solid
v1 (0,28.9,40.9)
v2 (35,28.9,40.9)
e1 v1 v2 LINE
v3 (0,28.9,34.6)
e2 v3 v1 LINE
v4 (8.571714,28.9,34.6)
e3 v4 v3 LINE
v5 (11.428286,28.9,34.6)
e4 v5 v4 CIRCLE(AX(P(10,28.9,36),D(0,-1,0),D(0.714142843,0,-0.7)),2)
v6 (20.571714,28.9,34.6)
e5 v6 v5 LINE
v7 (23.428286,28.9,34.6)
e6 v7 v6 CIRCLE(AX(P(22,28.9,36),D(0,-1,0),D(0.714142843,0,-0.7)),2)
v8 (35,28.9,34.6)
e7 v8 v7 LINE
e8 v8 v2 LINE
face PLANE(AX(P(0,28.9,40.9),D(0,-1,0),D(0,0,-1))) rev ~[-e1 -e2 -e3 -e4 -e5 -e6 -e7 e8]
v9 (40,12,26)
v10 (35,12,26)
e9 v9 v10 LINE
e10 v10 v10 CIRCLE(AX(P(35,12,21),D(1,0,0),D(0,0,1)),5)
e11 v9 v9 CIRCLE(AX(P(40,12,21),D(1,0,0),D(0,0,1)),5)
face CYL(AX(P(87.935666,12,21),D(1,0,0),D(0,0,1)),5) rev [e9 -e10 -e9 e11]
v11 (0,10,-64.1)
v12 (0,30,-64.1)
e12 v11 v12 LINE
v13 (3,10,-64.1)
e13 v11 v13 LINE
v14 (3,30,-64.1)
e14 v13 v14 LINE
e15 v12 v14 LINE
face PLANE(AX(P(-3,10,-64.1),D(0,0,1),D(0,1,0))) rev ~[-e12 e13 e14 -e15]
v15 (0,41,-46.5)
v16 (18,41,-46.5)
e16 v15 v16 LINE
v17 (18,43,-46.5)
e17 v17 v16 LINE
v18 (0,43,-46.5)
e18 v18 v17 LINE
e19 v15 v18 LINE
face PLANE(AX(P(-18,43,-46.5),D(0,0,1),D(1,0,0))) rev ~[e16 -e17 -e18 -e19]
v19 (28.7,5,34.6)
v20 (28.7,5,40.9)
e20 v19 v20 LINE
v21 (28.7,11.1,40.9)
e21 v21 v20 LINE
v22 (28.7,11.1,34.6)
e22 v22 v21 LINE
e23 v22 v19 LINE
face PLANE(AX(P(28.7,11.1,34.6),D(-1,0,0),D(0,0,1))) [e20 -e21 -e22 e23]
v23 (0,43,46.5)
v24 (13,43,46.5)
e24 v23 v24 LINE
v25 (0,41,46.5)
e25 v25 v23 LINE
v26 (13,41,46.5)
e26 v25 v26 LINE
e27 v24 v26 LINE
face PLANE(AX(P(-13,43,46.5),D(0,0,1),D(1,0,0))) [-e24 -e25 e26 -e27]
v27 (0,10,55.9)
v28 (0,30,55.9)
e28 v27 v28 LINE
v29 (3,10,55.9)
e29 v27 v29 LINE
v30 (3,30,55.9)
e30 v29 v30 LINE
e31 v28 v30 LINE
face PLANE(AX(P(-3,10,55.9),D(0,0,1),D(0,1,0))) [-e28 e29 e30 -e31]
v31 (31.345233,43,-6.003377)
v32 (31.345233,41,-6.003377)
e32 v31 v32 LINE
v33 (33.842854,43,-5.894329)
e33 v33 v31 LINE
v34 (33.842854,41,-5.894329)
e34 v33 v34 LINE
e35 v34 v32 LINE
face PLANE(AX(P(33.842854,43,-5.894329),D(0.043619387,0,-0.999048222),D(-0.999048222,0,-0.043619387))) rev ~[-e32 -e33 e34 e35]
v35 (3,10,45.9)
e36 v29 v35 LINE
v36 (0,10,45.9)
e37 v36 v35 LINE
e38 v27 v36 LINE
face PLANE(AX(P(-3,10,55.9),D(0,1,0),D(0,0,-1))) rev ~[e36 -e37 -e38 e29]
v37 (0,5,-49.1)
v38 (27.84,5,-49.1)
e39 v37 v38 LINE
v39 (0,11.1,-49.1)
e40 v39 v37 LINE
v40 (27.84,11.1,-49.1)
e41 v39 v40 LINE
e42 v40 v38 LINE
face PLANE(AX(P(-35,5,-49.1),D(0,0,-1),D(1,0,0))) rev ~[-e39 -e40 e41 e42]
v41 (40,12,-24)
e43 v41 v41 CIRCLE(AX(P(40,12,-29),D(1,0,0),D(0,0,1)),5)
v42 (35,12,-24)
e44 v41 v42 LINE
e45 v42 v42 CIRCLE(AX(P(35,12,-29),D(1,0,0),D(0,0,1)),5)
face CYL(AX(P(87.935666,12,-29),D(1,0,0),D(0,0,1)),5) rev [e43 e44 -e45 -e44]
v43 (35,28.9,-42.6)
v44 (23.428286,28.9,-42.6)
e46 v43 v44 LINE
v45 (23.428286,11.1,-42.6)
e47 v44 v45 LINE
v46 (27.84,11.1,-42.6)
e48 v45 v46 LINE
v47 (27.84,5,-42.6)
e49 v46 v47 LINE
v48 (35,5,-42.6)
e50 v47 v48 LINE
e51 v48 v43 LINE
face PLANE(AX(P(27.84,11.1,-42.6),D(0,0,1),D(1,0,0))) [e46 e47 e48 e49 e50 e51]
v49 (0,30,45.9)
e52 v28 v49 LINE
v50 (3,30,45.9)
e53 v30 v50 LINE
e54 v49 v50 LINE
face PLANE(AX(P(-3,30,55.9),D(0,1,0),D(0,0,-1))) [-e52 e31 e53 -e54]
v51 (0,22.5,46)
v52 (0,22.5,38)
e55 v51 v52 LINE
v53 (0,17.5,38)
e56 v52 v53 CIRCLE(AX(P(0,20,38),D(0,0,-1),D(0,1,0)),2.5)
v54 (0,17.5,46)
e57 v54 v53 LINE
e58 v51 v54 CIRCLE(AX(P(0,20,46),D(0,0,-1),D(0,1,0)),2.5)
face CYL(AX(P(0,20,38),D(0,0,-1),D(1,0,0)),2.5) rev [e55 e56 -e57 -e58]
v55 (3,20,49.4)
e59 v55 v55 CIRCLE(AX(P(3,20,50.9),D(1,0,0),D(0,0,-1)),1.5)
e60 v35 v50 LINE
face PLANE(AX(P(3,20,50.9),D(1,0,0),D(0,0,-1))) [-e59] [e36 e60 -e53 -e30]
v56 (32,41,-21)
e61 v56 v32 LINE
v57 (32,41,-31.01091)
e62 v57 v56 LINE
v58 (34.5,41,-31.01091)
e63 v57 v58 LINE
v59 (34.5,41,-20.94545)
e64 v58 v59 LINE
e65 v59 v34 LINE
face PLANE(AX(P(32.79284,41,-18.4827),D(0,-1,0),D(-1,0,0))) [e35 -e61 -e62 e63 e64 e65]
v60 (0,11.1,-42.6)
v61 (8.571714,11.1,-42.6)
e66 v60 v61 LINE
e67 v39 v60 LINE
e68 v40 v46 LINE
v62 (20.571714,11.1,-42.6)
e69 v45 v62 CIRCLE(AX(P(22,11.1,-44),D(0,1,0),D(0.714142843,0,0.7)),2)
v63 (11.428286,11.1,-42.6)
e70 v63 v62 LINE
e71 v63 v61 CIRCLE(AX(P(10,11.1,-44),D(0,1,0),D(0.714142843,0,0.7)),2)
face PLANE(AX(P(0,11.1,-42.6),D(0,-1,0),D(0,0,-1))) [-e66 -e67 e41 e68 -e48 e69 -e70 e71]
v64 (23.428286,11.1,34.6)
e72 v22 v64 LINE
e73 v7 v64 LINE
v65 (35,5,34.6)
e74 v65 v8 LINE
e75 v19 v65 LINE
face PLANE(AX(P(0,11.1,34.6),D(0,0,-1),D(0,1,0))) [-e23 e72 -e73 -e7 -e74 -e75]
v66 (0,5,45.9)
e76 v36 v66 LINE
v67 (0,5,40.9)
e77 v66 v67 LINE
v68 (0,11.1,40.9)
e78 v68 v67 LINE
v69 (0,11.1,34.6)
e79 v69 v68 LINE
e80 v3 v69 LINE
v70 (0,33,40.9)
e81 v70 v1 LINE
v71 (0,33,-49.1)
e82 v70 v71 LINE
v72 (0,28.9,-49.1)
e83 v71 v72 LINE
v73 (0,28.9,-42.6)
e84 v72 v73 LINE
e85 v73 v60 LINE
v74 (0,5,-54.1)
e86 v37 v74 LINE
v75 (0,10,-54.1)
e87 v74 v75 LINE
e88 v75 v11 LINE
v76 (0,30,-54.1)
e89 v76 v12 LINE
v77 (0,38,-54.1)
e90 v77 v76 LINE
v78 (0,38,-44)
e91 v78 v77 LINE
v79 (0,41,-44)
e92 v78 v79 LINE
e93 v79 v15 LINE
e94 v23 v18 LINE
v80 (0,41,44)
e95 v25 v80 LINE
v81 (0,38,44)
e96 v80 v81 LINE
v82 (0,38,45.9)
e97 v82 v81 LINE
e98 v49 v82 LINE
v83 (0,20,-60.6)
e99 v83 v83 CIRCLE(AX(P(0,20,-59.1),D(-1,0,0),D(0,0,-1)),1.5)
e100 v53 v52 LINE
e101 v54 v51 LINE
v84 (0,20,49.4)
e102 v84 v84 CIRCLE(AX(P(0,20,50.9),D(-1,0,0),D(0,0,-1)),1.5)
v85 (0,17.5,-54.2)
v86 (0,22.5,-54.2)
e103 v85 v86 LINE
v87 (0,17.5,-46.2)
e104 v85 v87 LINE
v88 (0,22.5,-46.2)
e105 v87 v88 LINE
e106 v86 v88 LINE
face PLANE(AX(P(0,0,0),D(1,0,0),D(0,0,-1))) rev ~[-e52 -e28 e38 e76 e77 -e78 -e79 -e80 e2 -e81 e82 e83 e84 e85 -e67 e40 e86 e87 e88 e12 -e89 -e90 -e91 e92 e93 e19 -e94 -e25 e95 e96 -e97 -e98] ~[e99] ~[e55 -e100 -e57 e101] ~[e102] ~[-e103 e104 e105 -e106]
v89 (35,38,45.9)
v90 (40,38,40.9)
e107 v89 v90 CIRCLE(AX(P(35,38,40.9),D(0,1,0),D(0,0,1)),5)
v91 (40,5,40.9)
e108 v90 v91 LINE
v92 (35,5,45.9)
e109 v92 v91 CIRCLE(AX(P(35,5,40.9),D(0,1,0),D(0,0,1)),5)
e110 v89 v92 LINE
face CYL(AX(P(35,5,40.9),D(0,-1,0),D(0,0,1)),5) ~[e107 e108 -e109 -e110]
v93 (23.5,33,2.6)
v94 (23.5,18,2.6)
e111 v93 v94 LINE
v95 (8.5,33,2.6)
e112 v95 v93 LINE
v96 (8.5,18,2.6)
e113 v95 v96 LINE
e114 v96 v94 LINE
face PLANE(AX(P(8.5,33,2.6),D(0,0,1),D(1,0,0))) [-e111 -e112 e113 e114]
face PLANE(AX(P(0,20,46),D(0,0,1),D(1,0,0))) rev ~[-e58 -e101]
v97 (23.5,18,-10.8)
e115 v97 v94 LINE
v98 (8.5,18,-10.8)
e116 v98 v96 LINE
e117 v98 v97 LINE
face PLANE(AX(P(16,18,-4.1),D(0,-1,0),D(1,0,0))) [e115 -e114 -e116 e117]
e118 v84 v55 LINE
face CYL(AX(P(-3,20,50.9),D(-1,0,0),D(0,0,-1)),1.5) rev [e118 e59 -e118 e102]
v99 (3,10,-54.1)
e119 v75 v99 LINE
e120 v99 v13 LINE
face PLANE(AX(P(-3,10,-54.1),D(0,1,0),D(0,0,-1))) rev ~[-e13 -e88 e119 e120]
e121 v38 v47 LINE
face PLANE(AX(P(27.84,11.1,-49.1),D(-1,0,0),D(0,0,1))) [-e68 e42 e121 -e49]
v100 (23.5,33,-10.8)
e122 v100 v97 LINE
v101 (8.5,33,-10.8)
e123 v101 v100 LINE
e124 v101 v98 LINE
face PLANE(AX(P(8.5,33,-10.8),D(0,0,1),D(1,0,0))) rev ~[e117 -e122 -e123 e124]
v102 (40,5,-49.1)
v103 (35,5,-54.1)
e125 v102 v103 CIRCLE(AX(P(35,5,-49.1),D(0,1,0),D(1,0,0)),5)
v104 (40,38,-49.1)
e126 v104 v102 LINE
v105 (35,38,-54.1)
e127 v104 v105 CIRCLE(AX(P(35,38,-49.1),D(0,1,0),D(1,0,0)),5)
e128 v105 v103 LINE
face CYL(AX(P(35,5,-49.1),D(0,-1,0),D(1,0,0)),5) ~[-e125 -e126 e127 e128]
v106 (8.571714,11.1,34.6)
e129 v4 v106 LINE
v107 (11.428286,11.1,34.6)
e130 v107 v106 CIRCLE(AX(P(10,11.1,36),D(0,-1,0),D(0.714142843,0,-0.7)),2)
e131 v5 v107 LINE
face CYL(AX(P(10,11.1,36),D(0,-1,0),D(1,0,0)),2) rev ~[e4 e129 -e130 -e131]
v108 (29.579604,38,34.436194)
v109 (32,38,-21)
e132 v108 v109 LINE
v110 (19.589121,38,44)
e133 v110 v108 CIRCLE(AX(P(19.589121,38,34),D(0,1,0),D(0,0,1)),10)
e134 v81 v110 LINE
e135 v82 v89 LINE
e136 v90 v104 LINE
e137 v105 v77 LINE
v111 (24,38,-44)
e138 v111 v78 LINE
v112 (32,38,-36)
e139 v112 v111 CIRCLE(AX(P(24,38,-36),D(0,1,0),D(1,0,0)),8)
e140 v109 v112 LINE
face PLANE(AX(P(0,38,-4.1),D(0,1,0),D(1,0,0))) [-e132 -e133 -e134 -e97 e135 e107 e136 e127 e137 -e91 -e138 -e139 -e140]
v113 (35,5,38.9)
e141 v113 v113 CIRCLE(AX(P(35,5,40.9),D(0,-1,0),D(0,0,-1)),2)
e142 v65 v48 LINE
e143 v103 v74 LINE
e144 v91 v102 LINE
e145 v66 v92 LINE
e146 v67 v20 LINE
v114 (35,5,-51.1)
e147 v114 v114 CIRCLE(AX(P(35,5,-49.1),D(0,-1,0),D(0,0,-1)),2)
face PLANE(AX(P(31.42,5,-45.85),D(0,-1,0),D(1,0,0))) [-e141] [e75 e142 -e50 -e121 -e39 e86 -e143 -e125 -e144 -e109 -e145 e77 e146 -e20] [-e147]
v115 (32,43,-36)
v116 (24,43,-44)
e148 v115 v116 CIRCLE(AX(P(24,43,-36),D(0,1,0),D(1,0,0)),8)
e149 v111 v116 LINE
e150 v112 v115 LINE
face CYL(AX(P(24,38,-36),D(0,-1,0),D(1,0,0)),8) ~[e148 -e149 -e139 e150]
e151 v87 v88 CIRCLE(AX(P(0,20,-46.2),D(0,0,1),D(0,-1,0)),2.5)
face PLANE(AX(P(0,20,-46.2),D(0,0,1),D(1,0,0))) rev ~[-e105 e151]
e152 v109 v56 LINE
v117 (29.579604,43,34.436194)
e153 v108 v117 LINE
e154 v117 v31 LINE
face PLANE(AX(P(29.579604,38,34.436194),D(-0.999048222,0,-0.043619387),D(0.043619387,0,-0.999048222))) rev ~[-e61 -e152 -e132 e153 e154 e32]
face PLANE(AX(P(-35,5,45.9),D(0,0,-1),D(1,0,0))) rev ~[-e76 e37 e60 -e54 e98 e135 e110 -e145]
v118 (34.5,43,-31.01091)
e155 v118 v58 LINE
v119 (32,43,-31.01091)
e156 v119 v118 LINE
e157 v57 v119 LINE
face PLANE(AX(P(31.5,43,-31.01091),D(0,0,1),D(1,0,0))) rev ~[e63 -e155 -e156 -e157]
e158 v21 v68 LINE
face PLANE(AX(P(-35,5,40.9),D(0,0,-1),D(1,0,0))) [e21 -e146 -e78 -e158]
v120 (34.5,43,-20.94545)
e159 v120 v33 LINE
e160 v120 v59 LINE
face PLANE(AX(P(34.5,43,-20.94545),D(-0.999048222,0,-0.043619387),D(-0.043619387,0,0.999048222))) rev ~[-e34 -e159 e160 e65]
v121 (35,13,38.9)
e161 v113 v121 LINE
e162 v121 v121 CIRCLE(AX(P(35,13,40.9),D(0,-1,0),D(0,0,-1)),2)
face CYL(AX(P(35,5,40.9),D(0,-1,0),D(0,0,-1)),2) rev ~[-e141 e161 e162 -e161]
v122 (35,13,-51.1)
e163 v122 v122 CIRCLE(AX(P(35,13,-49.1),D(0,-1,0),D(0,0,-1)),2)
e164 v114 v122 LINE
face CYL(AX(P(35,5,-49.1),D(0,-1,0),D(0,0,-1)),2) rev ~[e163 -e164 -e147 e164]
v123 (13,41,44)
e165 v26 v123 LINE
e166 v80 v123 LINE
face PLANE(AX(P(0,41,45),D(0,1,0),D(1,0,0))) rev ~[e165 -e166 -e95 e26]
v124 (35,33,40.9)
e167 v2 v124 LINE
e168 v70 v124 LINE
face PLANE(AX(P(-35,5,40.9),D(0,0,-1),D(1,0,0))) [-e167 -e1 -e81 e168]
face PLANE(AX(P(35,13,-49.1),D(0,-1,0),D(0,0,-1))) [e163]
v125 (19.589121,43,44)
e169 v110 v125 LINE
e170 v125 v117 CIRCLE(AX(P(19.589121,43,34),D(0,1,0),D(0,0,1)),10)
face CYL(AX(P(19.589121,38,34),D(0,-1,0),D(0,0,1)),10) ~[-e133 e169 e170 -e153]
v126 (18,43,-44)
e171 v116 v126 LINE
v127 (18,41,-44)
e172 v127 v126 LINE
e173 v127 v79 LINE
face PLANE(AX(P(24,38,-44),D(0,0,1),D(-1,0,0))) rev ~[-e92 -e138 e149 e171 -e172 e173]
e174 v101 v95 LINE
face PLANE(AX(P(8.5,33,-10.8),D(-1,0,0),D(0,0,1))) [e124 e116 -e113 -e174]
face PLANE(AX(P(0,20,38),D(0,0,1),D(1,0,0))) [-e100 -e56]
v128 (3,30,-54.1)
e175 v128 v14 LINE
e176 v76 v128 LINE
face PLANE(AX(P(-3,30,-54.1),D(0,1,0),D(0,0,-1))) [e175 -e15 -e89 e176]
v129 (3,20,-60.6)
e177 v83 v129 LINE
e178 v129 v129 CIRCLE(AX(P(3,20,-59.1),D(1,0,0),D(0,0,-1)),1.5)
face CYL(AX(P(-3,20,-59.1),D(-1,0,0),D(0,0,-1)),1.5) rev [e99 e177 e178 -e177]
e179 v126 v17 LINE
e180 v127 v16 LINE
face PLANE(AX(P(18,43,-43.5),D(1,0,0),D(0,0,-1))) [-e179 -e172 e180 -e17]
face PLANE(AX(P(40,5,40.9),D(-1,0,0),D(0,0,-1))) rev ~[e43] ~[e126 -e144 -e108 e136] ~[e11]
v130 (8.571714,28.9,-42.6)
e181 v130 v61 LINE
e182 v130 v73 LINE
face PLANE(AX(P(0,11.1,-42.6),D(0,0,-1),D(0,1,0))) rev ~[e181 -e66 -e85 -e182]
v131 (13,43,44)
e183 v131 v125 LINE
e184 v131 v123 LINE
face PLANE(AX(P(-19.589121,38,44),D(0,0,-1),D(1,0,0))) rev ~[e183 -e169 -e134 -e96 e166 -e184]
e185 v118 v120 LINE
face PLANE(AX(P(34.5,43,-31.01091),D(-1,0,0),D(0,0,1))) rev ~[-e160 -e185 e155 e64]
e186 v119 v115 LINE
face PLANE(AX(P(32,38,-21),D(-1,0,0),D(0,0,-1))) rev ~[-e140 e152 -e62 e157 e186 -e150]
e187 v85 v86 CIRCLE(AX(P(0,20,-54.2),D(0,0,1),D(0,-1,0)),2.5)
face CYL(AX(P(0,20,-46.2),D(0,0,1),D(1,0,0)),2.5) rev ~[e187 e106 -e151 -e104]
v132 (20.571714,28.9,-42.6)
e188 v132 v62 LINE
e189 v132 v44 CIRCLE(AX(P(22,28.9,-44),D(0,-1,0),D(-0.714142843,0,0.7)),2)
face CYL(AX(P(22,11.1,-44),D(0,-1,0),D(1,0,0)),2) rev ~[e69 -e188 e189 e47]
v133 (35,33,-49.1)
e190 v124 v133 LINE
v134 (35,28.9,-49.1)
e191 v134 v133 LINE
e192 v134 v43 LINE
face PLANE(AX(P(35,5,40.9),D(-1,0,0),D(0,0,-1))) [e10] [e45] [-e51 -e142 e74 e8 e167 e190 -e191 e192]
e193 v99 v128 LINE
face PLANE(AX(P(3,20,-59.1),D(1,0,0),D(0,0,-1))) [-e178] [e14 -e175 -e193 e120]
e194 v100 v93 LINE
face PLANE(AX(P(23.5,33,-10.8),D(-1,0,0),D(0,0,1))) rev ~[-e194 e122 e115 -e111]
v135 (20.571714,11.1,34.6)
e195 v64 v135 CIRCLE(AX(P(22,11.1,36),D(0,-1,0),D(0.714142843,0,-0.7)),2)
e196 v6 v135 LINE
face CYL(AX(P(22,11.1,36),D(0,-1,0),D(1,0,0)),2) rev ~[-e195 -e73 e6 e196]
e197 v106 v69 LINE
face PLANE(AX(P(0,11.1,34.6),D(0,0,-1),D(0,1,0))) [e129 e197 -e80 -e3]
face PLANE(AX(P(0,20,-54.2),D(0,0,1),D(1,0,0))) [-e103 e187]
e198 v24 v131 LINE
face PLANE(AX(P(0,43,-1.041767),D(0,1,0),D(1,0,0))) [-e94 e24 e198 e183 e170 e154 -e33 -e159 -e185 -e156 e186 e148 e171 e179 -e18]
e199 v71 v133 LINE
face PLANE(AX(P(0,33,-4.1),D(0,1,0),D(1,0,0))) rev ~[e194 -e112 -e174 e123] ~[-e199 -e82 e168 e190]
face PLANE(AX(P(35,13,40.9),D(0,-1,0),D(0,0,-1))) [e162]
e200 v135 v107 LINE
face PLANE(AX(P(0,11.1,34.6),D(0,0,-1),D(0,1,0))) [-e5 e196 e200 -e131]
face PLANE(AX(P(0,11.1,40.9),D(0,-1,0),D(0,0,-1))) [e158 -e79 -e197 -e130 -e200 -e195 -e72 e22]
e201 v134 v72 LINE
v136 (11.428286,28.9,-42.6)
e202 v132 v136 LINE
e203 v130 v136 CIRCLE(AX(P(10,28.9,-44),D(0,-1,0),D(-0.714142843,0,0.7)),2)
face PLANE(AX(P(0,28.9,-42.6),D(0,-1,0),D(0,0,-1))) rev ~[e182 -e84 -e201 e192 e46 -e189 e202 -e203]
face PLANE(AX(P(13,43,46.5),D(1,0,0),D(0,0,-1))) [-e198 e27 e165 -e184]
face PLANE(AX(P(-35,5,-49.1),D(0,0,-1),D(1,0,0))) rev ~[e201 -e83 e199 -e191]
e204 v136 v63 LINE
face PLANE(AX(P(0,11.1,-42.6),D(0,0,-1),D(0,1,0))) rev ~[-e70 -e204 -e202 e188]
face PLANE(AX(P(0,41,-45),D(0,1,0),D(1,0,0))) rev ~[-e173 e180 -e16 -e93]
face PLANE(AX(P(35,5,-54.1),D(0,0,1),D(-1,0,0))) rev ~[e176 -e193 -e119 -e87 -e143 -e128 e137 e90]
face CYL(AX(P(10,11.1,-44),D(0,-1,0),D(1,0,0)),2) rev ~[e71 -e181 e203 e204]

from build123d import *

# Parameters (mm, degrees)
SKETCH8_R                        = 10
BOSS_EXTRUDE6_DEPTH              = 5
BOSS_EXTRUDE7_START              = 5
BOSS_EXTRUDE7_DEPTH              = 5
EXTRUDE_THIN4_DEPTH              = 8
EXTRUDE_THIN4_DEPTH_BACK         = 20
SKETCH2_W                        = 70
SKETCH2_H                        = 90
BOSS_EXTRUDE8_DEPTH              = 5
BOSS_EXTRUDE9_DEPTH              = 5
BOSS_EXTRUDE10_REACH             = 81.849
SKETCH13_W                       = 6.5
SKETCH13_H                       = 17.8
SKETCH13_W_2                     = 6.3
BOSS_EXTRUDE10_DIRECTION_2_REACH = 81.849
SKETCH15_R                       = 2
CUT_EXTRUDE1_DEPTH               = 17.8
SKETCH17_W                       = 36
SKETCH17_H                       = 3
SKETCH17_W_2                     = 26
BOSS_EXTRUDE11_DEPTH             = 2
SKETCH18_W                       = 36
SKETCH18_H                       = 3
SKETCH18_W_2                     = 26
BOSS_EXTRUDE12_DEPTH             = 2
BOSS_EXTRUDE13_DEPTH             = 3
BOSS_EXTRUDE13_DEPTH_BACK        = 3
SKETCH19_W                       = 10
SKETCH19_H                       = 20
SKETCH19_R                       = 1.5
SKETCH21_R                       = 2.5
CUT_EXTRUDE5_DEPTH               = 8
SKETCH23_R                       = 2.5
CUT_EXTRUDE6_DEPTH               = 8
SKETCH24_W                       = 150
SKETCH24_H                       = 150
CUT_EXTRUDE7_DEPTH               = 85.574286873
SKETCH25_W                       = 150
SKETCH25_H                       = 150
CUT_EXTRUDE8_DEPTH               = 87.935665869
SKETCH26_W                       = 7.16
SKETCH26_H                       = 6.5
SKETCH26_W_2                     = 6.3
SKETCH26_H_2                     = 6.3
BOSS_EXTRUDE14_DEPTH             = 6.1
SKETCH27_R                       = 2
CUT_EXTRUDE9_DEPTH               = 8
SKETCH28_W                       = 15
SKETCH28_H                       = 13.4
BOSS_EXTRUDE15_DEPTH             = 15
CUT_EXTRUDE10_DEPTH              = 87.935665869
CUT_EXTRUDE10_DEPTH_BACK         = 87.935665869
SKETCH29_R                       = 5


with BuildPart() as part:
    # Sketch8 → Boss-Extrude6 (new body)
    with BuildSketch(Plane(origin=(0, 0, 0), x_dir=(-1, 0, 0), z_dir=(0, 1, 0))):
        with BuildLine():
            Line((32, -36), (32, -21))
            Line((32, -21), (29.579603504, 34.436193874))
            ThreePointArc((29.579603504, 34.436193874), (26.504251846, 41.223639621), (19.589121288, 44))
            Line((19.589121288, 44), (-19.589121288, 44))
            ThreePointArc((-19.589121288, 44), (-26.504251846, 41.223639621), (-29.579603504, 34.436193874))
            Line((-29.579603504, 34.436193874), (-32, -21))
            Line((-32, -21), (-32, -36))
            ThreePointArc((-32, -36), (-29.656854249, -41.656854249), (-24, -44))
            Line((-24, -44), (24, -44))
            ThreePointArc((24, -44), (29.656854249, -41.656854249), (32, -36))
        make_face()
        with Locations(Location((15.9, 11.8, 0), (0, 0, 90))):
            Circle(SKETCH8_R, mode=Mode.SUBTRACT)
        with Locations(Location((-15.9, 11.8, 0), (0, 0, 90))):
            Circle(SKETCH8_R, mode=Mode.SUBTRACT)
        with Locations(Location((15.9, -20, 0), (0, 0, 90))):
            Circle(SKETCH8_R, mode=Mode.SUBTRACT)
        with Locations(Location((-15.9, -20, 0), (0, 0, 90))):
            Circle(SKETCH8_R, mode=Mode.SUBTRACT)
    extrude(amount=-BOSS_EXTRUDE6_DEPTH)

    # Sketch1 → Boss-Extrude7 (add)
    # profile 1 of 2: a face of its own
    with BuildSketch(Plane(origin=(0, 0, 0), x_dir=(1, 0, 0), z_dir=(0, 1, 0)).offset(BOSS_EXTRUDE7_START)):
        with BuildLine():
            Line((-35, 54.1), (35, 54.1))
            ThreePointArc((35, 54.1), (38.535533906, 52.635533906), (40, 49.1))
            Line((40, 49.1), (40, -40.9))
            ThreePointArc((40, -40.9), (38.535533906, -44.435533906), (35, -45.9))
            Line((35, -45.9), (-35, -45.9))
            ThreePointArc((-35, -45.9), (-38.535533906, -44.435533906), (-40, -40.9))
            Line((-40, -40.9), (-40, 49.1))
            ThreePointArc((-40, 49.1), (-38.535533906, 52.635533906), (-35, 54.1))
        make_face()
        with BuildLine():
            ThreePointArc((32, 36), (29.656854249, 41.656854249), (24, 44))
            Line((24, 44), (-24, 44))
            ThreePointArc((-24, 44), (-29.656854249, 41.656854249), (-32, 36))
            Line((-32, 36), (-32, 21))
            Line((-32, 21), (-29.579603504, -34.436193874))
            ThreePointArc((-29.579603504, -34.436193874), (-26.504251846, -41.223639621), (-19.589121288, -44))
            Line((-19.589121288, -44), (19.589121288, -44))
            ThreePointArc((19.589121288, -44), (26.504251846, -41.223639621), (29.579603504, -34.436193874))
            Line((29.579603504, -34.436193874), (32, 21))
            Line((32, 21), (32, 36))
        make_face(mode=Mode.SUBTRACT)
    # profile 2 of 2: a face of its own
    with BuildSketch(Plane(origin=(0, 0, 0), x_dir=(1, 0, 0), z_dir=(0, 1, 0)).offset(BOSS_EXTRUDE7_START)):
        with BuildLine():
            Line((32, 36), (32, 21))
            Line((32, 21), (29.579603504, -34.436193874))
            ThreePointArc((29.579603504, -34.436193874), (26.504251846, -41.223639621), (19.589121288, -44))
            Line((19.589121288, -44), (-19.589121288, -44))
            ThreePointArc((-19.589121288, -44), (-26.504251846, -41.223639621), (-29.579603504, -34.436193874))
            Line((-29.579603504, -34.436193874), (-32, 21))
            Line((-32, 21), (-32, 36))
            ThreePointArc((-32, 36), (-29.656854249, 41.656854249), (-24, 44))
            Line((-24, 44), (24, 44))
            ThreePointArc((24, 44), (29.656854249, 41.656854249), (32, 36))
        make_face()
        with BuildLine():
            ThreePointArc((-24, 41), (-27.535533906, 39.535533906), (-29, 36))
            Line((-29, 36), (-29, 21.065460233))
            Line((-29, 21.065460233), (-26.582458839, -34.305335712))
            ThreePointArc((-26.582458839, -34.305335712), (-24.429712679, -39.056547734), (-19.589121288, -41))
            Line((-19.589121288, -41), (19.589121288, -41))
            ThreePointArc((19.589121288, -41), (24.429712679, -39.056547734), (26.582458839, -34.305335712))
            Line((26.582458839, -34.305335712), (29, 21.065460233))
            Line((29, 21.065460233), (29, 36))
            ThreePointArc((29, 36), (27.535533906, 39.535533906), (24, 41))
            Line((24, 41), (-24, 41))
        make_face(mode=Mode.SUBTRACT)
    extrude(amount=-BOSS_EXTRUDE7_DEPTH)

    # Sketch17 → Boss-Extrude11 (add)
    with BuildSketch(Plane(origin=(0, -5, 0), x_dir=(1, 0, 0), z_dir=(0, 1, 0))):
        with Locations((0, 45)):
            Rectangle(SKETCH17_W, SKETCH17_H)
        with Locations((0, -45)):
            Rectangle(SKETCH17_W_2, SKETCH17_H)
        Polygon((-31.5, 21.010910039), (-30.84570919, 6.025186715), (-33.842853854, 5.894328553), (-34.5, 20.945449806), (-34.5, 31.010910039), (-31.5, 31.010910039), align=None)
        Polygon((31.5, 21.010910039), (31.5, 31.010910039), (34.5, 31.010910039), (34.5, 20.945449806), (33.842853854, 5.894328553), (30.84570919, 6.025186715), align=None)
    extrude(amount=BOSS_EXTRUDE11_DEPTH)

    # Sketch24 → Cut-Extrude7 (cut, through all)
    with BuildSketch(Plane(origin=(0, 5, 0), x_dir=(1, 0, 0), z_dir=(0, 1, 0))):
        Rectangle(SKETCH24_W, SKETCH24_H)
    extrude(amount=-CUT_EXTRUDE7_DEPTH, mode=Mode.SUBTRACT)


with BuildPart() as body_2:
    # Sketch2 → Extrude-Thin4 (new, two sides: drawn at the far end of the back side and taken through both)
    with BuildSketch(Plane(origin=(0, 25, 0), x_dir=(1, 0, 0), z_dir=(0, 1, 0)).offset(-EXTRUDE_THIN4_DEPTH_BACK)):
        with BuildLine():
            Line((-40, 49.1), (-40, -40.9))
            ThreePointArc((-40, -40.9), (-38.535533906, -44.435533906), (-35, -45.9))
            Line((-35, -45.9), (35, -45.9))
            ThreePointArc((35, -45.9), (38.535533906, -44.435533906), (40, -40.9))
            Line((40, -40.9), (40, 49.1))
            ThreePointArc((40, 49.1), (38.535533906, 52.635533906), (35, 54.1))
            Line((35, 54.1), (-35, 54.1))
            ThreePointArc((-35, 54.1), (-38.535533906, 52.635533906), (-40, 49.1))
        make_face()
        with Locations((0, 4.1)):
            Rectangle(SKETCH2_W, SKETCH2_H, mode=Mode.SUBTRACT)
    extrude(amount=EXTRUDE_THIN4_DEPTH + EXTRUDE_THIN4_DEPTH_BACK)

    # Sketch13 → Boss-Extrude10 (add, up to next)
    with BuildSketch(Plane(origin=(0, 0, 0), x_dir=(0, 0, -1), z_dir=(1, 0, 0)), mode=Mode.PRIVATE) as boss_extrude10_sk1:
        with Locations((45.85, 20)):
            Rectangle(SKETCH13_W, SKETCH13_H)
    boss_extrude10_tool1 = extrude(boss_extrude10_sk1.sketch, amount=BOSS_EXTRUDE10_REACH, mode=Mode.PRIVATE) - body_2.part
    # Sketch13 → Boss-Extrude10 (add, up to next)
    with BuildSketch(Plane(origin=(0, 0, 0), x_dir=(0, 0, -1), z_dir=(1, 0, 0)), mode=Mode.PRIVATE) as boss_extrude10_sk2:
        with Locations((-37.75, 20)):
            Rectangle(SKETCH13_W_2, SKETCH13_H)
    boss_extrude10_tool2 = extrude(boss_extrude10_sk2.sketch, amount=BOSS_EXTRUDE10_REACH, mode=Mode.PRIVATE) - body_2.part
    add(boss_extrude10_tool1.solids().sort_by_distance((0, 20, -45.85))[0])
    add(boss_extrude10_tool2.solids().sort_by_distance((0, 20, 37.75))[0])

    # Sketch13 → Boss-Extrude10 direction 2 (add, up to next)
    with BuildSketch(Plane(origin=(0, 0, 0), x_dir=(0, 0, -1), z_dir=(1, 0, 0)), mode=Mode.PRIVATE) as boss_extrude10_direction_2_sk1:
        with Locations((45.85, 20)):
            Rectangle(SKETCH13_W, SKETCH13_H)
    boss_extrude10_direction_2_tool1 = extrude(boss_extrude10_direction_2_sk1.sketch, amount=-BOSS_EXTRUDE10_DIRECTION_2_REACH, mode=Mode.PRIVATE) - body_2.part
    # Sketch13 → Boss-Extrude10 direction 2 (add, up to next)
    with BuildSketch(Plane(origin=(0, 0, 0), x_dir=(0, 0, -1), z_dir=(1, 0, 0)), mode=Mode.PRIVATE) as boss_extrude10_direction_2_sk2:
        with Locations((-37.75, 20)):
            Rectangle(SKETCH13_W_2, SKETCH13_H)
    boss_extrude10_direction_2_tool2 = extrude(boss_extrude10_direction_2_sk2.sketch, amount=-BOSS_EXTRUDE10_DIRECTION_2_REACH, mode=Mode.PRIVATE) - body_2.part
    add(boss_extrude10_direction_2_tool1.solids().sort_by_distance((0, 20, -45.85))[0])
    add(boss_extrude10_direction_2_tool2.solids().sort_by_distance((0, 20, 37.75))[0])

    # Sketch15 → Cut-Extrude1 (cut)
    with BuildSketch(Plane.XZ.offset(-11.1)):
        with Locations((-22, -44)):
            Circle(SKETCH15_R)
        with Locations((-10, -44)):
            Circle(SKETCH15_R)
        with Locations((-22, 36)):
            Circle(SKETCH15_R)
        with Locations((-10, 36)):
            Circle(SKETCH15_R)
        with Locations((10, 36)):
            Circle(SKETCH15_R)
        with Locations((22, 36)):
            Circle(SKETCH15_R)
        with Locations((10, -44)):
            Circle(SKETCH15_R)
        with Locations((22, -44)):
            Circle(SKETCH15_R)
    extrude(amount=-CUT_EXTRUDE1_DEPTH, mode=Mode.SUBTRACT)

    # Sketch19 → Boss-Extrude13 (add, two sides: drawn at the far end of the back side and taken through both)
    # profile 1 of 2: a face of its own
    with BuildSketch(Plane(origin=(0, 0, 0), x_dir=(0, 0, -1), z_dir=(1, 0, 0)).offset(-BOSS_EXTRUDE13_DEPTH_BACK)):
        with Locations((-50.9, 20)):
            Rectangle(SKETCH19_W, SKETCH19_H)
        with Locations((-50.9, 20)):
            Circle(SKETCH19_R, mode=Mode.SUBTRACT)
    # profile 2 of 2: a face of its own
    with BuildSketch(Plane(origin=(0, 0, 0), x_dir=(0, 0, -1), z_dir=(1, 0, 0)).offset(-BOSS_EXTRUDE13_DEPTH_BACK)):
        with Locations((59.1, 20)):
            Rectangle(SKETCH19_W, SKETCH19_H)
        with Locations((59.1, 20)):
            Circle(SKETCH19_R, mode=Mode.SUBTRACT)
    extrude(amount=BOSS_EXTRUDE13_DEPTH + BOSS_EXTRUDE13_DEPTH_BACK)

    # Sketch21 → Cut-Extrude5 (cut)
    with BuildSketch(Plane.XY.offset(38)):
        with Locations((0, 20)):
            Circle(SKETCH21_R)
    extrude(amount=CUT_EXTRUDE5_DEPTH, mode=Mode.SUBTRACT)

    # Sketch23 → Cut-Extrude6 (cut)
    with BuildSketch(Plane.XY.offset(-46.2)):
        with Locations((0, 20)):
            Circle(SKETCH23_R)
    extrude(amount=-CUT_EXTRUDE6_DEPTH, mode=Mode.SUBTRACT)


with BuildPart() as body_3:
    # Sketch10 → Boss-Extrude8 (new body)
    with BuildSketch(Plane(origin=(0, 38, 0), x_dir=(1, 0, 0), z_dir=(0, 1, 0))):
        with BuildLine():
            Line((-32, 36), (-32, 21))
            Line((-32, 21), (-29.579603504, -34.436193874))
            ThreePointArc((-29.579603504, -34.436193874), (-26.504251846, -41.223639621), (-19.589121288, -44))
            Line((-19.589121288, -44), (19.589121288, -44))
            ThreePointArc((19.589121288, -44), (26.504251846, -41.223639621), (29.579603504, -34.436193874))
            Line((29.579603504, -34.436193874), (32, 21))
            Line((32, 21), (32, 36))
            ThreePointArc((32, 36), (29.656854249, 41.656854249), (24, 44))
            Line((24, 44), (-24, 44))
            ThreePointArc((-24, 44), (-29.656854249, 41.656854249), (-32, 36))
        make_face()
    extrude(amount=BOSS_EXTRUDE8_DEPTH)

    # Sketch11 → Boss-Extrude9 (add)
    with BuildSketch(Plane(origin=(0, 38, 0), x_dir=(1, 0, 0), z_dir=(0, 1, 0))):
        with BuildLine():
            Line((-35, -45.9), (35, -45.9))
            ThreePointArc((35, -45.9), (38.535533906, -44.435533906), (40, -40.9))
            Line((40, -40.9), (40, 49.1))
            ThreePointArc((40, 49.1), (38.535533906, 52.635533906), (35, 54.1))
            Line((35, 54.1), (-35, 54.1))
            ThreePointArc((-35, 54.1), (-38.535533906, 52.635533906), (-40, 49.1))
            Line((-40, 49.1), (-40, -40.9))
            ThreePointArc((-40, -40.9), (-38.535533906, -44.435533906), (-35, -45.9))
        make_face()
    extrude(amount=-BOSS_EXTRUDE9_DEPTH)

    # Sketch18 → Boss-Extrude12 (add)
    with BuildSketch(Plane(origin=(0, 43, 0), x_dir=(1, 0, 0), z_dir=(0, 1, 0))):
        with Locations((0, 45)):
            Rectangle(SKETCH18_W, SKETCH18_H)
        with Locations((0, -45)):
            Rectangle(SKETCH18_W_2, SKETCH18_H)
        Polygon((-31.5, 21.010910039), (-30.84570919, 6.025186715), (-33.842853854, 5.894328553), (-34.5, 20.945449806), (-34.5, 31.010910039), (-31.5, 31.010910039), align=None)
        Polygon((31.5, 21.010910039), (31.5, 31.010910039), (34.5, 31.010910039), (34.5, 20.945449806), (33.842853854, 5.894328553), (30.84570919, 6.025186715), align=None)
    extrude(amount=-BOSS_EXTRUDE12_DEPTH)


with BuildPart() as cut_extrude8_tool:
    # Sketch25 → Cut-Extrude8 (new, through all)
    with BuildSketch(Plane(origin=(0, 0, 0), x_dir=(0, 0, -1), z_dir=(1, 0, 0))):
        Rectangle(SKETCH25_W, SKETCH25_H)
    extrude(amount=-CUT_EXTRUDE8_DEPTH)


with BuildPart() as body_2_1:
    add(body_2.part)

    # Cut-Extrude8: cut by cut_extrude8_tool
    add(cut_extrude8_tool.part, mode=Mode.SUBTRACT)

    # Sketch26 → Boss-Extrude14 (add)
    with BuildSketch(Plane.XZ.offset(-11.1)):
        with Locations((31.42, -45.85)):
            Rectangle(SKETCH26_W, SKETCH26_H)
        with Locations((31.85, 37.75)):
            Rectangle(SKETCH26_W_2, SKETCH26_H_2)
    extrude(amount=BOSS_EXTRUDE14_DEPTH)

    # Sketch27 → Cut-Extrude9 (cut)
    with BuildSketch(Plane.XZ.offset(-5)):
        with Locations(Location((35, 40.9, 0), (0, 0, 270))):
            Circle(SKETCH27_R)
        with Locations(Location((35, -49.1, 0), (0, 0, 270))):
            Circle(SKETCH27_R)
    extrude(amount=-CUT_EXTRUDE9_DEPTH, mode=Mode.SUBTRACT)


with BuildPart() as body_3_1:
    add(body_3.part)

    # Cut-Extrude8: cut by cut_extrude8_tool
    add(cut_extrude8_tool.part, mode=Mode.SUBTRACT)


    add(body_2_1.part)  # Boss-Extrude15 merges body 2
    # Sketch28 → Boss-Extrude15 (add)
    with BuildSketch(Plane.XZ.offset(-33)):
        with Locations((16, -4.1)):
            Rectangle(SKETCH28_W, SKETCH28_H)
    extrude(amount=BOSS_EXTRUDE15_DEPTH)

    # Sketch29 → Cut-Extrude10 (cut, two sides: drawn at the far end of the back side and taken through both)
    with BuildSketch(Plane.ZY.offset(-CUT_EXTRUDE10_DEPTH_BACK)):
        with Locations((-29, 12)):
            Circle(SKETCH29_R)
        with Locations((21, 12)):
            Circle(SKETCH29_R)
    extrude(amount=CUT_EXTRUDE10_DEPTH + CUT_EXTRUDE10_DEPTH_BACK, mode=Mode.SUBTRACT)


solid = body_3_1.part
